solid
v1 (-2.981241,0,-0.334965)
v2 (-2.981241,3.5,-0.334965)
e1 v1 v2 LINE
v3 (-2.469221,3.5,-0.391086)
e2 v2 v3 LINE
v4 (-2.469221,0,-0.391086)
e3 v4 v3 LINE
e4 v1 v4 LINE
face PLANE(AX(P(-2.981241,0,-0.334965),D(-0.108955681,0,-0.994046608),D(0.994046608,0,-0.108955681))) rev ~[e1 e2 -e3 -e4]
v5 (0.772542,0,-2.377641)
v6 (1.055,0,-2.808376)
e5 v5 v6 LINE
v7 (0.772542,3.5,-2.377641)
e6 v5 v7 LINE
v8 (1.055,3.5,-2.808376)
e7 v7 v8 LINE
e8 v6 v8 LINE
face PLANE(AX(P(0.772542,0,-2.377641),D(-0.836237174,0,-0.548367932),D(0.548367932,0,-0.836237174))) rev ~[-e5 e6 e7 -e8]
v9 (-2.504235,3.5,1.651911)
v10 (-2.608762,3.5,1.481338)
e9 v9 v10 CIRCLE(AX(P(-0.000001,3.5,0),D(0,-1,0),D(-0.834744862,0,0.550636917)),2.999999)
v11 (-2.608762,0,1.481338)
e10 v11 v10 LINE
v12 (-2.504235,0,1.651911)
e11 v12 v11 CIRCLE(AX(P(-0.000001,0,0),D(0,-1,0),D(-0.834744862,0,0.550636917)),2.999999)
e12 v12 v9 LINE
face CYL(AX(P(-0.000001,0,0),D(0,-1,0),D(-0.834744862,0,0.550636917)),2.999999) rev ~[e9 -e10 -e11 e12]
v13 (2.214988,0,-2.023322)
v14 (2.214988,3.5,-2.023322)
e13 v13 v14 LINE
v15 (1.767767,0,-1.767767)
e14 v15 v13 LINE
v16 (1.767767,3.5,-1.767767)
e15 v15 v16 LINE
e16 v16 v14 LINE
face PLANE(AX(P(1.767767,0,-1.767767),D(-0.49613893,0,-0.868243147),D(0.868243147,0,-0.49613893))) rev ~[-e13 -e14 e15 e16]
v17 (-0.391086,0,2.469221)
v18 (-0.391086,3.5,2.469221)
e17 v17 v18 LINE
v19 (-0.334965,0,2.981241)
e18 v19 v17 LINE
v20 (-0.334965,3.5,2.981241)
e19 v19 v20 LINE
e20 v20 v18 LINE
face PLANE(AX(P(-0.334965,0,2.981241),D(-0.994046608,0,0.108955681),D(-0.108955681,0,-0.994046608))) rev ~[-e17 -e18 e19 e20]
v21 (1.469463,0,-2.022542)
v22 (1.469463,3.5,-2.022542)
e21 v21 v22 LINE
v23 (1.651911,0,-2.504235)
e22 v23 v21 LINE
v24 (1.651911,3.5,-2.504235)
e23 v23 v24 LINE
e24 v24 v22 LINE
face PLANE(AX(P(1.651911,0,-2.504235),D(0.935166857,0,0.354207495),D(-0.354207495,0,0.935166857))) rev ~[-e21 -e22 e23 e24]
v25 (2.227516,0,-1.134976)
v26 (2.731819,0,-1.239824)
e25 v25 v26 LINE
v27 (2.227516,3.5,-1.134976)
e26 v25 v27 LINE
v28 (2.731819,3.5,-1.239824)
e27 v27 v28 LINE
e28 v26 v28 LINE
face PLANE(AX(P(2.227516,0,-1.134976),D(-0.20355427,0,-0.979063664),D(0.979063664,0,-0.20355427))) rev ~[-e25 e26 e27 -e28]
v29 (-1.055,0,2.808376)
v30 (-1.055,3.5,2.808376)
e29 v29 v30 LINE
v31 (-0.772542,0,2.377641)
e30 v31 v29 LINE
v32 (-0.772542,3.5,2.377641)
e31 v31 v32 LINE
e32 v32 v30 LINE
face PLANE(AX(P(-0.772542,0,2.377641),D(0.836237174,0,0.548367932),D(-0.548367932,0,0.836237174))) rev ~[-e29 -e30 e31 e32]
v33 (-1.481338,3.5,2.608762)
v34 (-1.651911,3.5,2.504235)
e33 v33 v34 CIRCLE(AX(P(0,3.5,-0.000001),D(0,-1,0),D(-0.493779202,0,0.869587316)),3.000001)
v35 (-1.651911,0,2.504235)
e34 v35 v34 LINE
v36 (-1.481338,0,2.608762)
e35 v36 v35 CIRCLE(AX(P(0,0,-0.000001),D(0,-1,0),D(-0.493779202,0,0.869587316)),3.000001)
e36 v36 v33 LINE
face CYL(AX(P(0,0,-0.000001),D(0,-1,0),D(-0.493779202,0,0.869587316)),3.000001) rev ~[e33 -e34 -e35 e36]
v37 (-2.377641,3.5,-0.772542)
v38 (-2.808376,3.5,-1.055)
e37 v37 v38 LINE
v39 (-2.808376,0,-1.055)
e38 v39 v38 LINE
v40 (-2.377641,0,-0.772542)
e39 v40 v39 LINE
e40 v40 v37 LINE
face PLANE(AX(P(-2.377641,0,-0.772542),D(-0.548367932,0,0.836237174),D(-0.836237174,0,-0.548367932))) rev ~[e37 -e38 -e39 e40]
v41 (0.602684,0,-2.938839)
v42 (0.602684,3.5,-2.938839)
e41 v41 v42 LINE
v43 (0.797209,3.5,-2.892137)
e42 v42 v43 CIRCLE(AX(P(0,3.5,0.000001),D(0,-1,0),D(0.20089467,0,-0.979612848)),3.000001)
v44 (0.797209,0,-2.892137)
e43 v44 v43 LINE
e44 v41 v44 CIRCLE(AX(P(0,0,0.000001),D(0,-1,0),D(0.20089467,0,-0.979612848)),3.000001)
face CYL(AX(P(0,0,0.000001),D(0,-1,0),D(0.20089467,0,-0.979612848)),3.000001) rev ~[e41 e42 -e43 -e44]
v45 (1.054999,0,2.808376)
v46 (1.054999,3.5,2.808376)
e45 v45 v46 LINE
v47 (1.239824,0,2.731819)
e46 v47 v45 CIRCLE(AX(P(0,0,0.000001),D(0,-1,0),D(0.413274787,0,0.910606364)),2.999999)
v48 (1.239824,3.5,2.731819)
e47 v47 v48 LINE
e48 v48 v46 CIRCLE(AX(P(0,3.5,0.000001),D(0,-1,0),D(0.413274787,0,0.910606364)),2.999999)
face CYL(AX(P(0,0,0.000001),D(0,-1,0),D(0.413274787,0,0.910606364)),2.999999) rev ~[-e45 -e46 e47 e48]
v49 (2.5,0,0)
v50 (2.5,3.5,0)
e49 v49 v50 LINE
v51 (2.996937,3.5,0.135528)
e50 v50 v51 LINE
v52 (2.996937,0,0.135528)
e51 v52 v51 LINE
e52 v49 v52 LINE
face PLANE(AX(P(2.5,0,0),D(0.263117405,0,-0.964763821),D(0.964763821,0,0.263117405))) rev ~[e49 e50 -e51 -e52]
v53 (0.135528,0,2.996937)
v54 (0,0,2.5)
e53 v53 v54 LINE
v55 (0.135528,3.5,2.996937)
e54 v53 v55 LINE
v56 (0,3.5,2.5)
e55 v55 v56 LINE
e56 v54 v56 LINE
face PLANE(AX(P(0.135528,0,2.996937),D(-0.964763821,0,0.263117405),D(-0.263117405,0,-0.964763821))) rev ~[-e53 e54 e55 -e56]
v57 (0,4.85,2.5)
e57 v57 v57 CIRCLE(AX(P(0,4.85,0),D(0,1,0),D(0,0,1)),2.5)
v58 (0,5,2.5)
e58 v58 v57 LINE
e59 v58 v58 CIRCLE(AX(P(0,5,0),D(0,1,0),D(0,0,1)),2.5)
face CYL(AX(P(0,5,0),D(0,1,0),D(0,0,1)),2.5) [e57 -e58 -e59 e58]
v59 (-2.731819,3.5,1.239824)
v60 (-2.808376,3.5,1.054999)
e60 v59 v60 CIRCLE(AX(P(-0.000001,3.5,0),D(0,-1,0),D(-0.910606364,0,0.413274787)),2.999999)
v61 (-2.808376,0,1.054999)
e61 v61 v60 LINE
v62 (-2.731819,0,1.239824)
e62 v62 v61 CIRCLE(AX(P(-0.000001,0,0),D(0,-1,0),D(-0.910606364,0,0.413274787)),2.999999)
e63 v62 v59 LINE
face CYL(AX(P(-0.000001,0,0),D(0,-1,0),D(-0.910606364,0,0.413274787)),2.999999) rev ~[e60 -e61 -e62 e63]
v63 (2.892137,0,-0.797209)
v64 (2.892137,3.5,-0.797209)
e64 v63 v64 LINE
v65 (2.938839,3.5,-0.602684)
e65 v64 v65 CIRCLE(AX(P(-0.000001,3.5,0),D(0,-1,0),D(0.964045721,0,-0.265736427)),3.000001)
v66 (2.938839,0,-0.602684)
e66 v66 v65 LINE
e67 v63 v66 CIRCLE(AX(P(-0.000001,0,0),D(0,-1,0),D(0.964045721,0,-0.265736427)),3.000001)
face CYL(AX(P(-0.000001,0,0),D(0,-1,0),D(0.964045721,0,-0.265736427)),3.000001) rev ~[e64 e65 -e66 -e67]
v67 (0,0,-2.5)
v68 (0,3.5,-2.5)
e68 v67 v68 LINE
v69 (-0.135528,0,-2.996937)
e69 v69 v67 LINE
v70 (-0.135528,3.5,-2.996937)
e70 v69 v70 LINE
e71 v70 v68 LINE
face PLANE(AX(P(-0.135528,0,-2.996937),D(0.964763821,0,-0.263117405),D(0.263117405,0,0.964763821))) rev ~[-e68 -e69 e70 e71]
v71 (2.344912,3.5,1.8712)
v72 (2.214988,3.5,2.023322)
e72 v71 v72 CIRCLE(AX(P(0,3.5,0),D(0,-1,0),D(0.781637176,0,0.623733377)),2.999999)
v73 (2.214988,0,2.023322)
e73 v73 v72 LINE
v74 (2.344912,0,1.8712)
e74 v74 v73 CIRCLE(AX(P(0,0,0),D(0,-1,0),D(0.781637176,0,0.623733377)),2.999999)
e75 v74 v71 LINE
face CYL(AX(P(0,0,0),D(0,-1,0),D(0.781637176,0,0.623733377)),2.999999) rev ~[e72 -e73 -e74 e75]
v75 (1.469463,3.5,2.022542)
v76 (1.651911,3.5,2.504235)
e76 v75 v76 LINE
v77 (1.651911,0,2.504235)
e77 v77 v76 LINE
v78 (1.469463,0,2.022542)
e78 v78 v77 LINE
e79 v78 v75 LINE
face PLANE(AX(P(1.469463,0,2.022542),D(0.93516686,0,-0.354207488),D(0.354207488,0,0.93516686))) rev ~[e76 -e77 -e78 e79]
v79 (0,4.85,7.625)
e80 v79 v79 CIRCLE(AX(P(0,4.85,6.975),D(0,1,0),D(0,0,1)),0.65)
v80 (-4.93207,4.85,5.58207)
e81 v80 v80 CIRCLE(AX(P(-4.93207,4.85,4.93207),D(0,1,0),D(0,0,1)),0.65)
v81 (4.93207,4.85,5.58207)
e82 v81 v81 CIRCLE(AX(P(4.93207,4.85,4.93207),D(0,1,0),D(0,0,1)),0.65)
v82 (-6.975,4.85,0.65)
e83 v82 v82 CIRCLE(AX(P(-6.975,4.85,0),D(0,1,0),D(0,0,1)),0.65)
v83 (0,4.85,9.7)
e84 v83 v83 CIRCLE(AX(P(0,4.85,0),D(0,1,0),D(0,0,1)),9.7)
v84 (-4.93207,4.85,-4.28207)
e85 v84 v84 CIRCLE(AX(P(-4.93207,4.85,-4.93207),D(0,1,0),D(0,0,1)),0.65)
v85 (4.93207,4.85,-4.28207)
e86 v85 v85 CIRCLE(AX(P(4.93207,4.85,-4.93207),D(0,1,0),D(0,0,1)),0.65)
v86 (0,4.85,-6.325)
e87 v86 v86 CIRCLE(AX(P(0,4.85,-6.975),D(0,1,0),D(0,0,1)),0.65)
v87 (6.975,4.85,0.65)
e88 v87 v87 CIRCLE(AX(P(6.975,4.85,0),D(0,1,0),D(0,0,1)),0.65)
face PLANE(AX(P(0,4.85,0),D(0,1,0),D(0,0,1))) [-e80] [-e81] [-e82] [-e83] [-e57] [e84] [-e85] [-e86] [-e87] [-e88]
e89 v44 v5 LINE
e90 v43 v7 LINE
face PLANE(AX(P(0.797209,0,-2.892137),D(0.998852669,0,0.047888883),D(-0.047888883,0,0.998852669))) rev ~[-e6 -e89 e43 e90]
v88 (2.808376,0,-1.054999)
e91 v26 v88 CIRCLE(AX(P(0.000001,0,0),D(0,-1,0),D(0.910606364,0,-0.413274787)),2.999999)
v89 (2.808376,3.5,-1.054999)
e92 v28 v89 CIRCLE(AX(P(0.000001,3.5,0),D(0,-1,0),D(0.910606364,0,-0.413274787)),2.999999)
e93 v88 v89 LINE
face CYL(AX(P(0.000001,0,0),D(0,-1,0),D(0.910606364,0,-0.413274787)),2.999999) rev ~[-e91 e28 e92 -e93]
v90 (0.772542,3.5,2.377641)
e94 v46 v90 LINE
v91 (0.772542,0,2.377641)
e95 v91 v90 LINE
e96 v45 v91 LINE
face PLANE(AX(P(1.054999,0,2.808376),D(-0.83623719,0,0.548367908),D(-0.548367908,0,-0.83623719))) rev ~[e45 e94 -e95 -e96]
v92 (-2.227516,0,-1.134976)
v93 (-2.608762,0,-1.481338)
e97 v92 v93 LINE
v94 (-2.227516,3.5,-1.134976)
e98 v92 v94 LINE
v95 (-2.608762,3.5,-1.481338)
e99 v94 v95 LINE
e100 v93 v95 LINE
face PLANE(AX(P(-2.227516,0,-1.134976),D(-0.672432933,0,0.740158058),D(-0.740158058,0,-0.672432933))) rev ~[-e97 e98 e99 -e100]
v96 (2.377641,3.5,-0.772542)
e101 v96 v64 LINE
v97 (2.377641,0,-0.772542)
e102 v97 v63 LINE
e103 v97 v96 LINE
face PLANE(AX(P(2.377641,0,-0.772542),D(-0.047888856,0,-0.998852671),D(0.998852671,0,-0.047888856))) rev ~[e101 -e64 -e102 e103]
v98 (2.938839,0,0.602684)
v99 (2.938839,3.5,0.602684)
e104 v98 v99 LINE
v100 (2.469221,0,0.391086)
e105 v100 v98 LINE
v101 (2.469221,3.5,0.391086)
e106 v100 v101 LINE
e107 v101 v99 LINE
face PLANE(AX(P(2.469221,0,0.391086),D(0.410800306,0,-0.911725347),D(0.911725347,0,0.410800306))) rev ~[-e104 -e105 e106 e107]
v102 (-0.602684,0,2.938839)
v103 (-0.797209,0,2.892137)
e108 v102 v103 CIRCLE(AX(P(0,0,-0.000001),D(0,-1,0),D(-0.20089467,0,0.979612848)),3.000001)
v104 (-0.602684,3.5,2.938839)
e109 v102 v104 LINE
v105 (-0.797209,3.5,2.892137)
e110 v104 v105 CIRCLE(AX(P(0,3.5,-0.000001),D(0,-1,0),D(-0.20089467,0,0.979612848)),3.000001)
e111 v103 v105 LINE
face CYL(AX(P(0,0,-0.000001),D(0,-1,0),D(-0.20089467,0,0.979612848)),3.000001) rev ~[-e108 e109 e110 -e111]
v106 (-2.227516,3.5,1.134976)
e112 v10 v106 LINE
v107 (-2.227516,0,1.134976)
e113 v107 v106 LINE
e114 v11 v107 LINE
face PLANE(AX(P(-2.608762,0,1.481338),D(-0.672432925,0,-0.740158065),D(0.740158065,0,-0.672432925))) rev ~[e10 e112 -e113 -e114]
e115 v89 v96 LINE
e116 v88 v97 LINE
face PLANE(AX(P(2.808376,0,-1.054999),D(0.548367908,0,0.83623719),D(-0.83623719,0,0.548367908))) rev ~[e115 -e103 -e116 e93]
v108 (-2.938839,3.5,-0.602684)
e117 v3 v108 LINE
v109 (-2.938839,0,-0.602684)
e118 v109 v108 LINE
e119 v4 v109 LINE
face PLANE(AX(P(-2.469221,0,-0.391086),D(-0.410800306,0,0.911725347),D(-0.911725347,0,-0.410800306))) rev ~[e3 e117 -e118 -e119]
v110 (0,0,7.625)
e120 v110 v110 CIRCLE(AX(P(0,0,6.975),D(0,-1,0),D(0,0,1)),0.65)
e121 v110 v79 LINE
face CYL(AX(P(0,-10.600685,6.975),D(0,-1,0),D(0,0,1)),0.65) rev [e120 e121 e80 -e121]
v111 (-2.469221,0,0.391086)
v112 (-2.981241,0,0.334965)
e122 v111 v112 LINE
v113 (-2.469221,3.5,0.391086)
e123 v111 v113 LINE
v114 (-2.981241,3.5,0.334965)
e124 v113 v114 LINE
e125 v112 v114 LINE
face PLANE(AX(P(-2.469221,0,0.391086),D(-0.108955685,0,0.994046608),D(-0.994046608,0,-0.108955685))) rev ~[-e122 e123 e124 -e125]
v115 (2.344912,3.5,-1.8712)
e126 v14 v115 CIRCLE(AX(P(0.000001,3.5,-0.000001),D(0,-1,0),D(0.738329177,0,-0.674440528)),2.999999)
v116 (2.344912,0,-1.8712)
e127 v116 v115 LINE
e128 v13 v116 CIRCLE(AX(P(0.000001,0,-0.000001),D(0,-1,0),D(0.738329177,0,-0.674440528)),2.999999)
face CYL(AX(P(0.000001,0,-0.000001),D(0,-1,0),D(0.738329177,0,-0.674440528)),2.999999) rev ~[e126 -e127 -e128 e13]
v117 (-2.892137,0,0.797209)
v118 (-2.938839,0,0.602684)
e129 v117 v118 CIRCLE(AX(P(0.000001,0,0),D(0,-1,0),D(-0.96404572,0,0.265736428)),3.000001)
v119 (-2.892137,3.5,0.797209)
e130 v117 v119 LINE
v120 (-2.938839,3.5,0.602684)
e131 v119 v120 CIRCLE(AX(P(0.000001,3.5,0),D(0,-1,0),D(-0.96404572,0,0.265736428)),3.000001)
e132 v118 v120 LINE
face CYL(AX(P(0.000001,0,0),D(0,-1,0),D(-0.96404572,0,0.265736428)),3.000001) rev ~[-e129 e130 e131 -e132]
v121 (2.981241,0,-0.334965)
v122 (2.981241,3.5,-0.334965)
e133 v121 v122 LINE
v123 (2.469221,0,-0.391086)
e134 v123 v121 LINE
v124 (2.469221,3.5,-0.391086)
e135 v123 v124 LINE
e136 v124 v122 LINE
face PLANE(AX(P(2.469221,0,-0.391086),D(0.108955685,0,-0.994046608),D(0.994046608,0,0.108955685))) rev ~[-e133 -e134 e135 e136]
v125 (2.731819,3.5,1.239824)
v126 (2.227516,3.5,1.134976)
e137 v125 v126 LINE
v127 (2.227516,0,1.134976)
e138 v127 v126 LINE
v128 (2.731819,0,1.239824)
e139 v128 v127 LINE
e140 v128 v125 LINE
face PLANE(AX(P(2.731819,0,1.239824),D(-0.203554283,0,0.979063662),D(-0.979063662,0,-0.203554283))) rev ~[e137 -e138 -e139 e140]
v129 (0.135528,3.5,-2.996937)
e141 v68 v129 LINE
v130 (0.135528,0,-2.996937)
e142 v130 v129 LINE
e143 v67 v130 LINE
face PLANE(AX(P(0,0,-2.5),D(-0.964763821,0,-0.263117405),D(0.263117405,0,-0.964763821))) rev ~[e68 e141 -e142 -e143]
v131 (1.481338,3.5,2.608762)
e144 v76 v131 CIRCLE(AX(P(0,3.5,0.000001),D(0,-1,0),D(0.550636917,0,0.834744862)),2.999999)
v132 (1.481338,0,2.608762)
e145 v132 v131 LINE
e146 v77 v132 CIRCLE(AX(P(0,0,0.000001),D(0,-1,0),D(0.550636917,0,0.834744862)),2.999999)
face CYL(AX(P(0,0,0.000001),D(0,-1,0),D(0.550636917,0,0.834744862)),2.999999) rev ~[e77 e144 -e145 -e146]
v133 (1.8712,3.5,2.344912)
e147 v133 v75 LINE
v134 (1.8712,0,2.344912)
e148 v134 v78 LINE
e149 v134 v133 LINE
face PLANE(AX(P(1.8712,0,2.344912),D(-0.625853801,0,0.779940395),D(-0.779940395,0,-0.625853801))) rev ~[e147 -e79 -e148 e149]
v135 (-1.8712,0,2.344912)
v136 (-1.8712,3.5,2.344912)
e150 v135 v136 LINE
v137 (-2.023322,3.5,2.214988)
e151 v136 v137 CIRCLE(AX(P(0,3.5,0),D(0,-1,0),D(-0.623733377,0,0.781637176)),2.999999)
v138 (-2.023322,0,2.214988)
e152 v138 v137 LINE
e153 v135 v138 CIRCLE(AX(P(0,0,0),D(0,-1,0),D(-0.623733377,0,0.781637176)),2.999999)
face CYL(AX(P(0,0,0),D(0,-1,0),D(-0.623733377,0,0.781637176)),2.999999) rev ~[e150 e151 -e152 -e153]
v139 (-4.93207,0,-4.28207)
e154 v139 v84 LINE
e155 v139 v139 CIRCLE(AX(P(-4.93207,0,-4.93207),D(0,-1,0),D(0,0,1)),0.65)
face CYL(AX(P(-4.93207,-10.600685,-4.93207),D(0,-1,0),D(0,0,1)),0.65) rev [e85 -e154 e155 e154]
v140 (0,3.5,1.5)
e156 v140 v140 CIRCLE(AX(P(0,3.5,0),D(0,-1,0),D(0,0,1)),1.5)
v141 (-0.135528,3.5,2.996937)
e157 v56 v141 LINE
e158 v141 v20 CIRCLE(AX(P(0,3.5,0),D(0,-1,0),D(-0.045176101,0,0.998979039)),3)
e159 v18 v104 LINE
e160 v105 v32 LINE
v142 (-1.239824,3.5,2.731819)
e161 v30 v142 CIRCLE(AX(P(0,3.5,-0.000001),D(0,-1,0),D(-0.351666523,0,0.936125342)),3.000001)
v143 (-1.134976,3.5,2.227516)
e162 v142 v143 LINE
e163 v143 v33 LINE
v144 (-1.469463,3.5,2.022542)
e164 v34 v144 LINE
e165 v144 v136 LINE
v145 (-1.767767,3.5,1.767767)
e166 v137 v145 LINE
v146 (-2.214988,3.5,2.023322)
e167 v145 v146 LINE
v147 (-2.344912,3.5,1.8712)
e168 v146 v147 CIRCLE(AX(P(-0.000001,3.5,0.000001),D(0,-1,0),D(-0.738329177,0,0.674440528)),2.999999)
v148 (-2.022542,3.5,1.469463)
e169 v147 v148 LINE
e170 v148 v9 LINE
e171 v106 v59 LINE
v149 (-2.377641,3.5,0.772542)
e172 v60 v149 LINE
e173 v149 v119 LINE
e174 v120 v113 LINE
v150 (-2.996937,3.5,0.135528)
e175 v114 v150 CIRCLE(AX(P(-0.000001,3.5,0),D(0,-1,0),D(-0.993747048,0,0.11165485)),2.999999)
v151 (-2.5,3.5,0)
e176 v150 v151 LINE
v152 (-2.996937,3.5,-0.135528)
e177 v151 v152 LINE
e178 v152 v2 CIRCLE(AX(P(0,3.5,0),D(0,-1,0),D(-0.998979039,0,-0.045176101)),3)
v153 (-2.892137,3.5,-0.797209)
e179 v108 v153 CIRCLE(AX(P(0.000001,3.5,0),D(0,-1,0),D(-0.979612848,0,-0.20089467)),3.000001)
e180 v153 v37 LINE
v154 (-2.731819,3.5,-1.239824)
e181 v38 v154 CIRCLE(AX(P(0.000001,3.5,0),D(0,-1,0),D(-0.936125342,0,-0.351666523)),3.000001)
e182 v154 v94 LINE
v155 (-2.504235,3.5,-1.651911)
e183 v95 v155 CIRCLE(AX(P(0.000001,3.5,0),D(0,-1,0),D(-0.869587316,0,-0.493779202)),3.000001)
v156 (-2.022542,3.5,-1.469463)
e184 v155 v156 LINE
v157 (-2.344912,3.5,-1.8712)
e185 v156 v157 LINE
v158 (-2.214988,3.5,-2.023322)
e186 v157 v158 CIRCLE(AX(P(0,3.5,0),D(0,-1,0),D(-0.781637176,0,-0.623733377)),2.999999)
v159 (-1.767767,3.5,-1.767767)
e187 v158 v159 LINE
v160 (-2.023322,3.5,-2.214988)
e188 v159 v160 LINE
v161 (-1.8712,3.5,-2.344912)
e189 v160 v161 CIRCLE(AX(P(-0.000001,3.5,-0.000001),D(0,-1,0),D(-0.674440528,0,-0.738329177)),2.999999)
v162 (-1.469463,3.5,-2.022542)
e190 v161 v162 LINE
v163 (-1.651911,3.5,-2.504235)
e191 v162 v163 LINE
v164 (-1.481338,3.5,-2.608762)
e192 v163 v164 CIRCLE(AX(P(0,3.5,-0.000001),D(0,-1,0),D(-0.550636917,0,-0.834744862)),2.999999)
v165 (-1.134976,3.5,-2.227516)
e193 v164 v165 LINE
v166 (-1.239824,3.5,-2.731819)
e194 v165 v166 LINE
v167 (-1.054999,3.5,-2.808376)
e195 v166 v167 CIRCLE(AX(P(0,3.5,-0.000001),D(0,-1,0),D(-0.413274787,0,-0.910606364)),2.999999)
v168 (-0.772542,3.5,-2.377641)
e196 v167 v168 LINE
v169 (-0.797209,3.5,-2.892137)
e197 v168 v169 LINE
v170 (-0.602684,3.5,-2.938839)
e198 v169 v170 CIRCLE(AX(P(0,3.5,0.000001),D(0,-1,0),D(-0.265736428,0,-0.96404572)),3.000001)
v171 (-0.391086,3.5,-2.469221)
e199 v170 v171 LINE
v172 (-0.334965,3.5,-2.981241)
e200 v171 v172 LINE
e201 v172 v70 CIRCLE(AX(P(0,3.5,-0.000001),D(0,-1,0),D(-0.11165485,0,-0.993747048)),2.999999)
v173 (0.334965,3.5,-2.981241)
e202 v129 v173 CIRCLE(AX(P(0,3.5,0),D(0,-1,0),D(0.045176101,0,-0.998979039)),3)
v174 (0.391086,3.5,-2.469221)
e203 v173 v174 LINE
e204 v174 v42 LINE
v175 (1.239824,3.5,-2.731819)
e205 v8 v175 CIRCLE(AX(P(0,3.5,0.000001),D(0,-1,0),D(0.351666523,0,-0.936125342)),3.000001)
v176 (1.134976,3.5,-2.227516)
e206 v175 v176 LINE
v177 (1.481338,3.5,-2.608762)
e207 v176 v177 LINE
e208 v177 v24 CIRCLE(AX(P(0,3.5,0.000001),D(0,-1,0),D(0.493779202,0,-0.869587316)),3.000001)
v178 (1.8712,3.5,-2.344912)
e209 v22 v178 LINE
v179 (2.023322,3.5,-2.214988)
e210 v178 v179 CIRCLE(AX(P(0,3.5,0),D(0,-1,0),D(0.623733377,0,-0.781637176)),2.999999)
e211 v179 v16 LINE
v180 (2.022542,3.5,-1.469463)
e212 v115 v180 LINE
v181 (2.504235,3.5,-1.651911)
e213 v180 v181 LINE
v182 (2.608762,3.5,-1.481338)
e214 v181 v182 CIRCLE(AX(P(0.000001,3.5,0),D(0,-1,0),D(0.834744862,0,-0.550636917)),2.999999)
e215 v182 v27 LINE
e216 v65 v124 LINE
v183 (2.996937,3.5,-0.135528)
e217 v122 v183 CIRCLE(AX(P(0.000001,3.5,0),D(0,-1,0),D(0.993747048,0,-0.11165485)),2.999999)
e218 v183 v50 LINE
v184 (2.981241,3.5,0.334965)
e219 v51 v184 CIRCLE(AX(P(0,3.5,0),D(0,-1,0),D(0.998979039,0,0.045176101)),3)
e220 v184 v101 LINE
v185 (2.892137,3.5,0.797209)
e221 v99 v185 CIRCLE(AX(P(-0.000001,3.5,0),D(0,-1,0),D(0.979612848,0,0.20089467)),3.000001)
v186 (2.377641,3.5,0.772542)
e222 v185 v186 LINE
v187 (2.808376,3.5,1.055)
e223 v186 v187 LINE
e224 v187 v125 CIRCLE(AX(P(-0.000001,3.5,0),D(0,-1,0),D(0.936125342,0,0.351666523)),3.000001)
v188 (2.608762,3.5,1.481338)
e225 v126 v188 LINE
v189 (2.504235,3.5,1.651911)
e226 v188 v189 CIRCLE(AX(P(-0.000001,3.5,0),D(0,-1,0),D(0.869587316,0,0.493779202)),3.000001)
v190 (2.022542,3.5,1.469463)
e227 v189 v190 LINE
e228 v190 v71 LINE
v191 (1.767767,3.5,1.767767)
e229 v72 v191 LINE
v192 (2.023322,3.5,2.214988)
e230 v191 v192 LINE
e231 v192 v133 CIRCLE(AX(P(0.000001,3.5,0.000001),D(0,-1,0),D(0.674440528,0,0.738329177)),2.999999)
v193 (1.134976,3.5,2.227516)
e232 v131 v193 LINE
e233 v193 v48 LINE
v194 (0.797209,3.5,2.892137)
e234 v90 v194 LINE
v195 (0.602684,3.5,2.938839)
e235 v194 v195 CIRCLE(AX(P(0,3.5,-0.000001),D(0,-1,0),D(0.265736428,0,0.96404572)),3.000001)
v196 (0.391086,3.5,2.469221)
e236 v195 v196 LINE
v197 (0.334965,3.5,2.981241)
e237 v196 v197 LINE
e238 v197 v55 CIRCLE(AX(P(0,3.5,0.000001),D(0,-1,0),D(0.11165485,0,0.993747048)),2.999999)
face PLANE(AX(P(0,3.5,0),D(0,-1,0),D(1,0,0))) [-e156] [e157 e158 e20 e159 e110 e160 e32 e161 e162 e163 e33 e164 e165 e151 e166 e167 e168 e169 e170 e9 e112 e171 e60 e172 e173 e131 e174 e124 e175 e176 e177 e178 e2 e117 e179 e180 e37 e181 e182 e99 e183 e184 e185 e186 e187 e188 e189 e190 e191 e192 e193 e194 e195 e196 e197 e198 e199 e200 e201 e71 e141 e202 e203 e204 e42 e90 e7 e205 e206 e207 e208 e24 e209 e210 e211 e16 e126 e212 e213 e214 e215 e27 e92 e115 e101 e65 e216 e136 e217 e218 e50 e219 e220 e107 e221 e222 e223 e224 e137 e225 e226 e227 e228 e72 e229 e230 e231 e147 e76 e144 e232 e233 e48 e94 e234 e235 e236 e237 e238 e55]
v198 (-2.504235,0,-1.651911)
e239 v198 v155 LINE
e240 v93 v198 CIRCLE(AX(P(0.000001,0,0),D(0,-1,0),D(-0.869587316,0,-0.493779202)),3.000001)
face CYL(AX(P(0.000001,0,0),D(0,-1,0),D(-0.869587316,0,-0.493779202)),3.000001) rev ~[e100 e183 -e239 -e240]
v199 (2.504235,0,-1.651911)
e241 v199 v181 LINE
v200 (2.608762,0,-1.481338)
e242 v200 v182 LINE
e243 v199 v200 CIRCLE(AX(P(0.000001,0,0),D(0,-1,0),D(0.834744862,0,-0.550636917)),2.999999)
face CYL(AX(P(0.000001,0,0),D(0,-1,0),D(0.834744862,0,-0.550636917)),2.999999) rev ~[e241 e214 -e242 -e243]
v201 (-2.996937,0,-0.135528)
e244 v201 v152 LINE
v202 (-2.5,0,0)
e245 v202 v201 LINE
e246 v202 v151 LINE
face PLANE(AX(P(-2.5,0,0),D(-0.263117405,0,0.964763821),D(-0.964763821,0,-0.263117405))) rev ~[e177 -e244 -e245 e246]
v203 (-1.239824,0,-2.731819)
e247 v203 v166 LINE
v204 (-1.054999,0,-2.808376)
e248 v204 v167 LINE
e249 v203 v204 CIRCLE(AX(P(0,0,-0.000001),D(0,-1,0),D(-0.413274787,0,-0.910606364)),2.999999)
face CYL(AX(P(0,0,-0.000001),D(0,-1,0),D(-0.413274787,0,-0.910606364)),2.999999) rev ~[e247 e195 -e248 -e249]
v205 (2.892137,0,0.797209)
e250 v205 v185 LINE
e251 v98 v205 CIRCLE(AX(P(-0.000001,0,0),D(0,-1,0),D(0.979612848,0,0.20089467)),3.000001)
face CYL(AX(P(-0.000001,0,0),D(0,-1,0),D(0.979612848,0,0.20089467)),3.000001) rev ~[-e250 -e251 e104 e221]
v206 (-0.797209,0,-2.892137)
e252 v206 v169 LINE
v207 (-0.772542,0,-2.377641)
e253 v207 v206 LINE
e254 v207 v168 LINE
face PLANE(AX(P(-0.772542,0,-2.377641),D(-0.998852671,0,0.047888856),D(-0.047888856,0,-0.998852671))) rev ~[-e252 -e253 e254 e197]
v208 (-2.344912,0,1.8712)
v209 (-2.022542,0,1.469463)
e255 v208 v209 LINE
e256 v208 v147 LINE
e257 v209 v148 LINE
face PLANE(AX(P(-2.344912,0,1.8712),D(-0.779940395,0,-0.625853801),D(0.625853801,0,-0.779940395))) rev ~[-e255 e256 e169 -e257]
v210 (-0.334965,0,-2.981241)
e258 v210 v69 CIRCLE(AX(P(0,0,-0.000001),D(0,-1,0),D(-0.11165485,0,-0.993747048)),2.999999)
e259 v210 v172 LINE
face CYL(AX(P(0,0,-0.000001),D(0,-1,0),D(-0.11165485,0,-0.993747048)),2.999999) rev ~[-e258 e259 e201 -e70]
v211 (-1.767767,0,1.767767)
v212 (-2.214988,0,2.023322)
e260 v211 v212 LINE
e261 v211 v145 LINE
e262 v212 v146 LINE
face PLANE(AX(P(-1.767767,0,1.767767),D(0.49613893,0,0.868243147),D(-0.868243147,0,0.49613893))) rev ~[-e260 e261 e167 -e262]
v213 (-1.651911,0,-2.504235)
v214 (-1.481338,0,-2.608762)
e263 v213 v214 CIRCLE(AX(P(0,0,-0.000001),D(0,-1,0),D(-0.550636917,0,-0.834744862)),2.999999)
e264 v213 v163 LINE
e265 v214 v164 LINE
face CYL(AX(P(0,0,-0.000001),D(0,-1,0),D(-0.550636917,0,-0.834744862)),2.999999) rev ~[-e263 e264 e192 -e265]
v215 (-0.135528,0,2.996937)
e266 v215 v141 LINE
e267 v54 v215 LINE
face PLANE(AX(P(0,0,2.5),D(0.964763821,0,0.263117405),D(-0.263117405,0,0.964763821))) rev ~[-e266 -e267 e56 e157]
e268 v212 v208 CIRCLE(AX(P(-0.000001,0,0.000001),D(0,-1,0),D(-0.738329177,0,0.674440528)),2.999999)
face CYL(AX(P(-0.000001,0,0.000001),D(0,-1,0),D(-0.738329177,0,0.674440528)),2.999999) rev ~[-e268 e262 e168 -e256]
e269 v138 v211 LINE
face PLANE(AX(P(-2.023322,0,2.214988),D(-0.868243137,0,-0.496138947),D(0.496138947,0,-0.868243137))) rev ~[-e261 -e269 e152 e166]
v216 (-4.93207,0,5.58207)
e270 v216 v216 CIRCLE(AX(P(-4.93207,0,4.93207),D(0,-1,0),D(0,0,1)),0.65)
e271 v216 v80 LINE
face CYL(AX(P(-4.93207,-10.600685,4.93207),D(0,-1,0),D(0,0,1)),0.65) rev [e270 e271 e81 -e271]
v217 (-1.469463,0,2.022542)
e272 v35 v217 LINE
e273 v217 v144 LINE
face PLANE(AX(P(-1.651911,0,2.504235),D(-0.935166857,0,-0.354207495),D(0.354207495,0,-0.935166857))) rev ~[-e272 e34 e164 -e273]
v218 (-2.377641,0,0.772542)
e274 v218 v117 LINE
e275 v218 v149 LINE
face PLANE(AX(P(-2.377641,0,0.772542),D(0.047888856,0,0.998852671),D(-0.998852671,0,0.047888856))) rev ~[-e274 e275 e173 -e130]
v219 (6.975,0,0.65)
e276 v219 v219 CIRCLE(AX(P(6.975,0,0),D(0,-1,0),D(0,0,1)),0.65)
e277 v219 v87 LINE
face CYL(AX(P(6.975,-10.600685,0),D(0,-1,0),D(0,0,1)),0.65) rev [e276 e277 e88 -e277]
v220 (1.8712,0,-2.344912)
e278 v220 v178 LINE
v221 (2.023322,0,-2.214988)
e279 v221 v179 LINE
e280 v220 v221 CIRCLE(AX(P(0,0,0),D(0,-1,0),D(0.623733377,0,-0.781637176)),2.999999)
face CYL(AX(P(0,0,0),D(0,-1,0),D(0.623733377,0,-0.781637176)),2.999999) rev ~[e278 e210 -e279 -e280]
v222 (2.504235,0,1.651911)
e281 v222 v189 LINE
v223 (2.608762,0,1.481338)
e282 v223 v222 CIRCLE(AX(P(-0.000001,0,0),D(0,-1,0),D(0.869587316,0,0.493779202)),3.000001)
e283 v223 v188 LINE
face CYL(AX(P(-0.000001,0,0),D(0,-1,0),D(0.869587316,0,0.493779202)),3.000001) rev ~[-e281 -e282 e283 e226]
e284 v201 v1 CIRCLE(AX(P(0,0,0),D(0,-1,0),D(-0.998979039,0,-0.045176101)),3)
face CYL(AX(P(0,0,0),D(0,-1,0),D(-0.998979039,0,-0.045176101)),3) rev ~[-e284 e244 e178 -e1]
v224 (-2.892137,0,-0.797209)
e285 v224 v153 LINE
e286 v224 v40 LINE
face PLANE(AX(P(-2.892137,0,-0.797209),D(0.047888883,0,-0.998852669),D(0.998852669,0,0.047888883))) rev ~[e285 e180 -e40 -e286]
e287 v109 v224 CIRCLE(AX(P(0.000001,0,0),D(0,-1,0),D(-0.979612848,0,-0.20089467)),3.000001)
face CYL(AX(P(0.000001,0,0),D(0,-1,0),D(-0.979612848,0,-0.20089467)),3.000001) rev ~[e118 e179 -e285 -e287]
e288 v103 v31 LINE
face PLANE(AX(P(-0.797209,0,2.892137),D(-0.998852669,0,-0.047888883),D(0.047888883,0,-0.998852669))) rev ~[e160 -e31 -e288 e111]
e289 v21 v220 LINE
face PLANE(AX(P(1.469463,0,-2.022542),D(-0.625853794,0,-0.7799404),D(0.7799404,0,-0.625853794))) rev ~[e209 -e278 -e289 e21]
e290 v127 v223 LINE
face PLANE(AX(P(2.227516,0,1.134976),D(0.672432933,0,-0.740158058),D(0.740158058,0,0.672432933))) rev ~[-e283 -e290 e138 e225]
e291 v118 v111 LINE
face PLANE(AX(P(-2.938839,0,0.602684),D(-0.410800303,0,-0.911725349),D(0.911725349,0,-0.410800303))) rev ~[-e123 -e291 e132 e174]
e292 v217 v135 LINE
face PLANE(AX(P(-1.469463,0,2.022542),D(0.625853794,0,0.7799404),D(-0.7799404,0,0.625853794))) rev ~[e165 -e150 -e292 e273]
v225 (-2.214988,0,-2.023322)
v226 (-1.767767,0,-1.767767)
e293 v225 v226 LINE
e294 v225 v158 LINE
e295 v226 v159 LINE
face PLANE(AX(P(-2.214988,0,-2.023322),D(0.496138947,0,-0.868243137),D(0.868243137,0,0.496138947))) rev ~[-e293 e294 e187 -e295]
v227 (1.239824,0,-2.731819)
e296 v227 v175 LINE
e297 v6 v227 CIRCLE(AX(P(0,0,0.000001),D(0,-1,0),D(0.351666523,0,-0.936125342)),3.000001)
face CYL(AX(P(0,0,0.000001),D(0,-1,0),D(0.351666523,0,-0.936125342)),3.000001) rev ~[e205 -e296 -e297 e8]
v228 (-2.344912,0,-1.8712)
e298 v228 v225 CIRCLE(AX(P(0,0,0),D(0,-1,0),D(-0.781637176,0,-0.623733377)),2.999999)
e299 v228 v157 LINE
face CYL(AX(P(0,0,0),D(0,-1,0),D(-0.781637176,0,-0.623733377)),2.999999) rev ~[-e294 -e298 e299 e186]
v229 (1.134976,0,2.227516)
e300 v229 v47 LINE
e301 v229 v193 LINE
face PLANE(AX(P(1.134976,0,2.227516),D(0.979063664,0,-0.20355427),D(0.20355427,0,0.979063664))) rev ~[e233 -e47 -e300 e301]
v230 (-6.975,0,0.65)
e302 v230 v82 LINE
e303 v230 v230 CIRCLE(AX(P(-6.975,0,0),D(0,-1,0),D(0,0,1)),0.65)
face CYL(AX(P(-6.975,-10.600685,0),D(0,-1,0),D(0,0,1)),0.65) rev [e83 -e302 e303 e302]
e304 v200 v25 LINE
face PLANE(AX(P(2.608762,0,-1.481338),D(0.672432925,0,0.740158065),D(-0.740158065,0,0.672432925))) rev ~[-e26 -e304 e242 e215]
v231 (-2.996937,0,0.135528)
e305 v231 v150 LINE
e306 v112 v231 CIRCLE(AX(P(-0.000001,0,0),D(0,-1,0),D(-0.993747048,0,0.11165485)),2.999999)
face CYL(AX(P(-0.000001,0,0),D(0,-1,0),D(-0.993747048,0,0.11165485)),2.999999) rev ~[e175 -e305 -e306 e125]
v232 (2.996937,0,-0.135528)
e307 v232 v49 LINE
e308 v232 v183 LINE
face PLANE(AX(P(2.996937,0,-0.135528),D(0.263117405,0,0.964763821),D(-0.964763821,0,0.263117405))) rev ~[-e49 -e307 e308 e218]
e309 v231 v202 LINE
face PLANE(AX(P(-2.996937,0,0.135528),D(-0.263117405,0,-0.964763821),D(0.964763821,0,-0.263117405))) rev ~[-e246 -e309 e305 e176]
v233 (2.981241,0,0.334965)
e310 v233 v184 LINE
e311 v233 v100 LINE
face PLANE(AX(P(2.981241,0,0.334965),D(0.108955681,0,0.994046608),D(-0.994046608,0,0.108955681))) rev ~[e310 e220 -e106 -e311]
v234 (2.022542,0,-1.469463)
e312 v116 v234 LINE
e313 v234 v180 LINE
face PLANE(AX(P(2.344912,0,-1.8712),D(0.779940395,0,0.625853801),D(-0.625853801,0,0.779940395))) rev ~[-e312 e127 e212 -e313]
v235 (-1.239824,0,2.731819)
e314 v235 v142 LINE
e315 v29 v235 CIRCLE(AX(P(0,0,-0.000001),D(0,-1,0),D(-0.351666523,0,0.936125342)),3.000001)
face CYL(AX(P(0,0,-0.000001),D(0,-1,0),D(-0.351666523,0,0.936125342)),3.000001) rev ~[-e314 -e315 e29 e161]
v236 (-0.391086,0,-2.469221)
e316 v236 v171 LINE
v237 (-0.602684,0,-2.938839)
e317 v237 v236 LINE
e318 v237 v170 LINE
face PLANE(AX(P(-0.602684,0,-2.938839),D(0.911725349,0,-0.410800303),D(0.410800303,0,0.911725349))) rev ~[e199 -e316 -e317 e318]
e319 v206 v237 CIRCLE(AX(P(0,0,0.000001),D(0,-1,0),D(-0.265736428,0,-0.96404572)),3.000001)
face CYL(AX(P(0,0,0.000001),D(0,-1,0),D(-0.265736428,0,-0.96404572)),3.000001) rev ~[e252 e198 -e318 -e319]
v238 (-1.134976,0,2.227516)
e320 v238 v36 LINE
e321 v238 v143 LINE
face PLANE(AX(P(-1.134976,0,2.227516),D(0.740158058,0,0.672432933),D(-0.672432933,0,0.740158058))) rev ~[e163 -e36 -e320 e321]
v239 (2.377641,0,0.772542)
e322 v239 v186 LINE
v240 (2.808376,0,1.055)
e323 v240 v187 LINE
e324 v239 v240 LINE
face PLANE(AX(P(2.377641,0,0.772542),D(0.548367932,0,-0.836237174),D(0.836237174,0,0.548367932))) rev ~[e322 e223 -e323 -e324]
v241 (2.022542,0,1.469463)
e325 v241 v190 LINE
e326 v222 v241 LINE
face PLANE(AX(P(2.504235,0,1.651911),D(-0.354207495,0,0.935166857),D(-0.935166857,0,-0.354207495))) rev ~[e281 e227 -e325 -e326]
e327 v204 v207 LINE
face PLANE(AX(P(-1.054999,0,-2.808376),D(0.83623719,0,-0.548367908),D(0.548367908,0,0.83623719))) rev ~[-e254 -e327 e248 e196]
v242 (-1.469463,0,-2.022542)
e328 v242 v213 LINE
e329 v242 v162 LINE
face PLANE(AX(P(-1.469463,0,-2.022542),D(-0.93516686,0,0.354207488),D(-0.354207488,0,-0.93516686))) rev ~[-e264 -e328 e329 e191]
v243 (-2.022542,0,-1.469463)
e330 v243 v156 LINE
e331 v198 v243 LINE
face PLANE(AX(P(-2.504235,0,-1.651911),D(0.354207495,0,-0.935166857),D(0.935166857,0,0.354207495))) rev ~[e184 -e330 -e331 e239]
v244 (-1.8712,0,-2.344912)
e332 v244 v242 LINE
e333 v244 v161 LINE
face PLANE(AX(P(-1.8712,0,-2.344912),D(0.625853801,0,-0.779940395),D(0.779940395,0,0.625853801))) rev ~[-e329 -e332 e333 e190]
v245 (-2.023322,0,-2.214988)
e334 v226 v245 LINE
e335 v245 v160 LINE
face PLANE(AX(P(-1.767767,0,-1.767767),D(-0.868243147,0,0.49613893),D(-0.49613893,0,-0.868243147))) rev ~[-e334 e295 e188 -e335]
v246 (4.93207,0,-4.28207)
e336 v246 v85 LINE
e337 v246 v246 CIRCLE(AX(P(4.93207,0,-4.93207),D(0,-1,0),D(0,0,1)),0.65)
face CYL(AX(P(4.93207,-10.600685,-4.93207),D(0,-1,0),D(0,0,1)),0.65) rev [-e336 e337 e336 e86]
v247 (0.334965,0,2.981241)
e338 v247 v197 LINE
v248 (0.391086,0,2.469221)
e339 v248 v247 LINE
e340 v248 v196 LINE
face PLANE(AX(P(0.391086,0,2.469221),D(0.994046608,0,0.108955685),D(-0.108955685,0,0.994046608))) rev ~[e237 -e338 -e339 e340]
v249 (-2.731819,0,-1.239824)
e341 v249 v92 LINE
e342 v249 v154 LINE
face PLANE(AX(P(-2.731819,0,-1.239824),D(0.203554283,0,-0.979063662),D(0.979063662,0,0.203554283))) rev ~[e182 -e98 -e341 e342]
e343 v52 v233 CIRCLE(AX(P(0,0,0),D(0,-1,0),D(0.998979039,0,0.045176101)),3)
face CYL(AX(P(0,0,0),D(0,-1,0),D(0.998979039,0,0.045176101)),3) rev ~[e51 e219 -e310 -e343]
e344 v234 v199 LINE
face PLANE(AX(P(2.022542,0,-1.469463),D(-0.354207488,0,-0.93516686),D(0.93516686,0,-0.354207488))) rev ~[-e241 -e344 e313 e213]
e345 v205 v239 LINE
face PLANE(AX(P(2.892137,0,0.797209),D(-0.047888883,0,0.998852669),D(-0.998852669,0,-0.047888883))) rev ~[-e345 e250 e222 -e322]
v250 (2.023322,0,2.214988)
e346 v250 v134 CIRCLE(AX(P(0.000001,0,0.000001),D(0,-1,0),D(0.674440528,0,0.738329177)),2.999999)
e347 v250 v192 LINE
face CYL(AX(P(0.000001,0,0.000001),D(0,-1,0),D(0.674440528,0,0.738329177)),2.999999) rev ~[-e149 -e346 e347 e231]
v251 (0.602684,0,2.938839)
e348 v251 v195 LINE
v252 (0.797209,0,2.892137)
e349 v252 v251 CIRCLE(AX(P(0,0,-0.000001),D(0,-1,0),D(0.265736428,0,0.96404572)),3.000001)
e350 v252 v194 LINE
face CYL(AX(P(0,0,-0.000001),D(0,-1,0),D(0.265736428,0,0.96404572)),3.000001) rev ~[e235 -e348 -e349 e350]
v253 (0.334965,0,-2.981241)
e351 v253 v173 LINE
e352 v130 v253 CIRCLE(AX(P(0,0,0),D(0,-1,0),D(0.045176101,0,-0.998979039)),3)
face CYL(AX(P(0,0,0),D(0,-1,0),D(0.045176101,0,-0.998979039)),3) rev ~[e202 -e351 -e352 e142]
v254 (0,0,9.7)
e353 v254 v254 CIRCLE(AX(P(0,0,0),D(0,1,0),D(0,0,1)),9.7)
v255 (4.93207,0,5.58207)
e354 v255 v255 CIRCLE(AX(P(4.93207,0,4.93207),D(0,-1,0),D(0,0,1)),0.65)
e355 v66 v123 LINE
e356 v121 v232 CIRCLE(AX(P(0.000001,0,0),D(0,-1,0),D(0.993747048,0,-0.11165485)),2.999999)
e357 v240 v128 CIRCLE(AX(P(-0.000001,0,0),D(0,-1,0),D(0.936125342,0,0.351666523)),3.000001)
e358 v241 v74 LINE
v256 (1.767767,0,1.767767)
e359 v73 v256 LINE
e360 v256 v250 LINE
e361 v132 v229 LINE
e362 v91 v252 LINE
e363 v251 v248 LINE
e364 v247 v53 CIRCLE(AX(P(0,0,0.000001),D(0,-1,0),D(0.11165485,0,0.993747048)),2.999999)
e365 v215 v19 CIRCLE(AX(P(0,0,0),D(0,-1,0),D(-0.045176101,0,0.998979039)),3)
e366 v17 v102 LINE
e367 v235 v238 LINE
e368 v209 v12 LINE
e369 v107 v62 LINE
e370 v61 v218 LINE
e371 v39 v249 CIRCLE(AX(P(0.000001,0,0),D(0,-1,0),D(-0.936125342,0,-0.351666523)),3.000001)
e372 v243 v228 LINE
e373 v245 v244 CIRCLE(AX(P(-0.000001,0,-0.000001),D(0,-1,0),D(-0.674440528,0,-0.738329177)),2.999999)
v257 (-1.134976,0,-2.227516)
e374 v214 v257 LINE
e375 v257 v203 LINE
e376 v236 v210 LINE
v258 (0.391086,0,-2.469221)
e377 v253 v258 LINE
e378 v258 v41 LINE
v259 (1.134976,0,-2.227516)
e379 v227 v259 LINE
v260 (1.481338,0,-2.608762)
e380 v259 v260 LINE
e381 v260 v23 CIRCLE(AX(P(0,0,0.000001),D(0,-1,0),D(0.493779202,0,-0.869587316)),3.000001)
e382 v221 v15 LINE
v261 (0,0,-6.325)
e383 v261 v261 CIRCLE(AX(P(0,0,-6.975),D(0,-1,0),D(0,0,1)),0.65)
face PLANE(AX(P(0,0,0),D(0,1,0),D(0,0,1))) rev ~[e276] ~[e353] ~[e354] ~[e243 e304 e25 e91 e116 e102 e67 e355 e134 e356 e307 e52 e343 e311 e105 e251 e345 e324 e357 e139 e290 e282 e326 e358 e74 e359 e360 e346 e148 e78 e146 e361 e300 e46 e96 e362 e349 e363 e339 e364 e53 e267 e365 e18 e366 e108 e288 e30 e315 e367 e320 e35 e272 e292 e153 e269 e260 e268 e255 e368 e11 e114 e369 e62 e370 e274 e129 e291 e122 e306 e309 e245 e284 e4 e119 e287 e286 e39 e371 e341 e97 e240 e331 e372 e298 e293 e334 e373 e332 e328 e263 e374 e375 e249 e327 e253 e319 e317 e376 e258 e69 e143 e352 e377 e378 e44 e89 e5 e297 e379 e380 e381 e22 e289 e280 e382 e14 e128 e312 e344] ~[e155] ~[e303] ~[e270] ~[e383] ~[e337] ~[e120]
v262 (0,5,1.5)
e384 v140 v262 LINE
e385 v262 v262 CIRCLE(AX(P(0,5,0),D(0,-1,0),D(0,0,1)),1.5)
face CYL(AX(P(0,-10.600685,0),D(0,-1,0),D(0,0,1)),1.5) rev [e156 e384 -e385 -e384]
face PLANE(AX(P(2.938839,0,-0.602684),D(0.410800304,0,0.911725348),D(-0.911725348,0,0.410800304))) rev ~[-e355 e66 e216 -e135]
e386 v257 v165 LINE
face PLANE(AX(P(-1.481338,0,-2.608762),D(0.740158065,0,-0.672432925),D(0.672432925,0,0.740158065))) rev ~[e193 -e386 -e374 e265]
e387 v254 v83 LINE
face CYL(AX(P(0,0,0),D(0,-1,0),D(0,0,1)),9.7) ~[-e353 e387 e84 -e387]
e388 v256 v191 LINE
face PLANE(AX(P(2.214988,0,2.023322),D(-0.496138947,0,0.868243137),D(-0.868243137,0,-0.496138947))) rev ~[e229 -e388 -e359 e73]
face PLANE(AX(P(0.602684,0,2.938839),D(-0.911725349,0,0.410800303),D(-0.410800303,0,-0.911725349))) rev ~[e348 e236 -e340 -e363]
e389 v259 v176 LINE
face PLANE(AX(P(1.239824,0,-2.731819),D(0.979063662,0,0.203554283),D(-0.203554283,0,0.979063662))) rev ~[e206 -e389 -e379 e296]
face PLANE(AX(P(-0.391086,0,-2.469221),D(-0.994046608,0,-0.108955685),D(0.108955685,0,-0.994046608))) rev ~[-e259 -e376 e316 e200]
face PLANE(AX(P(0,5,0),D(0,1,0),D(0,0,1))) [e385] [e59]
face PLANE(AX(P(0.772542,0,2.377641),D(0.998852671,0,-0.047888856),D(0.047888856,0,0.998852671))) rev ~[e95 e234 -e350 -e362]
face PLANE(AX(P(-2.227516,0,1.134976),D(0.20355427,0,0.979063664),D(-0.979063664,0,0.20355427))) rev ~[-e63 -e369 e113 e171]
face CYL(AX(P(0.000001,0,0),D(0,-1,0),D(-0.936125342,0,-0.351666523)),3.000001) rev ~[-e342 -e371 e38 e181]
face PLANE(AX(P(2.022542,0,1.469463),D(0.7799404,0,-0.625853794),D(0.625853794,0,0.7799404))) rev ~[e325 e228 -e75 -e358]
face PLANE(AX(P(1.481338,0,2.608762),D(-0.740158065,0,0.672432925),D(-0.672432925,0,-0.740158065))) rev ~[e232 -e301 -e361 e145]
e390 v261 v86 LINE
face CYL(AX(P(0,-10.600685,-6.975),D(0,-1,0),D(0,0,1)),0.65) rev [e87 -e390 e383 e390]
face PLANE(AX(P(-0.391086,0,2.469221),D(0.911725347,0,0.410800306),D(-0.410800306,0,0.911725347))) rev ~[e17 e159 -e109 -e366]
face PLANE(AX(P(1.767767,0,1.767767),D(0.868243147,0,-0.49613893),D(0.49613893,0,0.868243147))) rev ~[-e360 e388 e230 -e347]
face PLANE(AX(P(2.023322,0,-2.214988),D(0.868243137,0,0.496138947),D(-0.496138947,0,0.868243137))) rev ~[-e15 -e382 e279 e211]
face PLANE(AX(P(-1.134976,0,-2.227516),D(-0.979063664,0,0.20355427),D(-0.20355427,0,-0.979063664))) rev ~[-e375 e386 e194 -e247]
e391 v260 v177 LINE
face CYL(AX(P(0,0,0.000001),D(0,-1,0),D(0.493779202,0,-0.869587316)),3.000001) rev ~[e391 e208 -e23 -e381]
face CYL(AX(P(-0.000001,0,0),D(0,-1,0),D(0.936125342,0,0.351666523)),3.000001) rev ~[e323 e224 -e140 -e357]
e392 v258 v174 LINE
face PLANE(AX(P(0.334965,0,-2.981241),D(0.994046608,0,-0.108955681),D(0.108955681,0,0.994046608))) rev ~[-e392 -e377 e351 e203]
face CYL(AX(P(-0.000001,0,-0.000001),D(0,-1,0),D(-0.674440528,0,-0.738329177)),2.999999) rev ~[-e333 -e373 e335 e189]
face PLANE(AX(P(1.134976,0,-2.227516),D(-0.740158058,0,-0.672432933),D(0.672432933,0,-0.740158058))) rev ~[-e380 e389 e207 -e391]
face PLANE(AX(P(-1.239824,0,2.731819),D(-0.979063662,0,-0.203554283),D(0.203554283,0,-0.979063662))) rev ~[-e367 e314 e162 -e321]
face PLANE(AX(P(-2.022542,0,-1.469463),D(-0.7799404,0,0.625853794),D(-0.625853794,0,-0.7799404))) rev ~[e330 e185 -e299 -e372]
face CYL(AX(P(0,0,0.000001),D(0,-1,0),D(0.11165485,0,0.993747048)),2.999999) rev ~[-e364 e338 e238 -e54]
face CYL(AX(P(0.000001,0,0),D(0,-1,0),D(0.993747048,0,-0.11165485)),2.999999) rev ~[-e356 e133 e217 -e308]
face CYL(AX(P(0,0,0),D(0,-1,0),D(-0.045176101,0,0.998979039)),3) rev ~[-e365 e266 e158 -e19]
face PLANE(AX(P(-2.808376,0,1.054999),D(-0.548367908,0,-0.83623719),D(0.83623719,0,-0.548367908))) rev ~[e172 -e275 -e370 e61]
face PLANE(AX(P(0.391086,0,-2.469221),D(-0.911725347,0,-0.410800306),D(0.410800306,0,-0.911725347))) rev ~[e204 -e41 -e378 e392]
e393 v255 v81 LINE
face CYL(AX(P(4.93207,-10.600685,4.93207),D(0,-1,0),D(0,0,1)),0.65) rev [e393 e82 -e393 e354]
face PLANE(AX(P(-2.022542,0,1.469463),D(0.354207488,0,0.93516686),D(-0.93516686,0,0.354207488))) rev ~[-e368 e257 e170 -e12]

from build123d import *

# Parameters (mm, degrees)
SKETCH1_R               = 9.7
BOSS_EXTRUDE1_DEPTH     = 5
CUT_EXTRUDE1_DEPTH      = 15.600684915
CUT_EXTRUDE1_DEPTH_BACK = 15.600684915
SKETCH2_R               = 0.65
CUT_EXTRUDE2_DEPTH      = 15.600684915
CUT_EXTRUDE2_DEPTH_BACK = 15.600684915
SKETCH3_R               = 1.5
SKETCH4_R               = 9.7
SKETCH4_R_2             = 2.5
SKETCH4_R_3             = 0.65
CUT_EXTRUDE3_DEPTH      = 0.15
CUT_EXTRUDE4_DEPTH      = 3.5


with BuildPart() as part:
    # Sketch1 → Boss-Extrude1 (new body)
    with BuildSketch(Plane(origin=(0, 0, 0), x_dir=(1, 0, 0), z_dir=(0, 1, 0))):
        with Locations(Location((0, 0, 0), (0, 0, 270))):
            Circle(SKETCH1_R)
    extrude(amount=BOSS_EXTRUDE1_DEPTH)

    # Sketch2 → Cut-Extrude1 (cut, two sides: drawn at the far end of the back side and taken through both)
    with BuildSketch(Plane(origin=(0, 5, 0), x_dir=(1, 0, 0), z_dir=(0, 1, 0)).offset(-CUT_EXTRUDE1_DEPTH_BACK)):
        with Locations(Location((-6.975, 0, 0), (0, 0, 270))):
            Circle(SKETCH2_R)
        with Locations(Location((-4.932069799, 4.932069799, 0), (0, 0, 270))):
            Circle(SKETCH2_R)
        with Locations(Location((0, 6.975, 0), (0, 0, 270))):
            Circle(SKETCH2_R)
        with Locations(Location((4.932069799, 4.932069799, 0), (0, 0, 270))):
            Circle(SKETCH2_R)
        with Locations(Location((6.975, 0, 0), (0, 0, 270))):
            Circle(SKETCH2_R)
        with Locations(Location((4.932069799, -4.932069799, 0), (0, 0, 270))):
            Circle(SKETCH2_R)
        with Locations(Location((0, -6.975, 0), (0, 0, 270))):
            Circle(SKETCH2_R)
        with Locations(Location((-4.932069799, -4.932069799, 0), (0, 0, 270))):
            Circle(SKETCH2_R)
    extrude(amount=CUT_EXTRUDE1_DEPTH + CUT_EXTRUDE1_DEPTH_BACK, mode=Mode.SUBTRACT)

    # Sketch3 → Cut-Extrude2 (cut, two sides: drawn at the far end of the back side and taken through both)
    with BuildSketch(Plane(origin=(0, 5, 0), x_dir=(1, 0, 0), z_dir=(0, 1, 0)).offset(-CUT_EXTRUDE2_DEPTH_BACK)):
        with Locations(Location((0, 0, 0), (0, 0, 270))):
            Circle(SKETCH3_R)
    extrude(amount=CUT_EXTRUDE2_DEPTH + CUT_EXTRUDE2_DEPTH_BACK, mode=Mode.SUBTRACT)

    # Sketch4 → Cut-Extrude3 (cut)
    with BuildSketch(Plane(origin=(0, 5, 0), x_dir=(1, 0, 0), z_dir=(0, 1, 0))):
        with Locations(Location((0, 0, 0), (0, 0, 270))):
            Circle(SKETCH4_R)
        with Locations(Location((0, 0, 0), (0, 0, 270))):
            Circle(SKETCH4_R_2, mode=Mode.SUBTRACT)
        with Locations(Location((-6.975, 0, 0), (0, 0, 270))):
            Circle(SKETCH4_R_3, mode=Mode.SUBTRACT)
        with Locations(Location((0, 6.975, 0), (0, 0, 270))):
            Circle(SKETCH4_R_3, mode=Mode.SUBTRACT)
        with Locations(Location((6.975, 0, 0), (0, 0, 270))):
            Circle(SKETCH4_R_3, mode=Mode.SUBTRACT)
        with Locations(Location((0, -6.975, 0), (0, 0, 270))):
            Circle(SKETCH4_R_3, mode=Mode.SUBTRACT)
        with Locations(Location((-4.932069799, -4.932069799, 0), (0, 0, 270))):
            Circle(SKETCH4_R_3, mode=Mode.SUBTRACT)
        with Locations(Location((4.932069799, -4.932069799, 0), (0, 0, 270))):
            Circle(SKETCH4_R_3, mode=Mode.SUBTRACT)
        with Locations(Location((4.932069799, 4.932069799, 0), (0, 0, 270))):
            Circle(SKETCH4_R_3, mode=Mode.SUBTRACT)
        with Locations(Location((-4.932069799, 4.932069799, 0), (0, 0, 270))):
            Circle(SKETCH4_R_3, mode=Mode.SUBTRACT)
    extrude(amount=-CUT_EXTRUDE3_DEPTH, mode=Mode.SUBTRACT)

    # Sketch5 → Cut-Extrude4 (cut)
    with BuildSketch(Plane.XZ):
        with BuildLine():
            Line((-0.602683972, -2.938838551), (-0.391086156, -2.469220853))
            Line((-0.391086156, -2.469220853), (-0.33496452, -2.981241146))
            ThreePointArc((-0.33496452, -2.981241146), (-0.235377283, -2.990752002), (-0.135528304, -2.996937116))
            Line((-0.135528304, -2.996937116), (0, -2.5))
            Line((0, -2.5), (0.135528304, -2.996937116))
            ThreePointArc((0.135528304, -2.996937116), (0.235377287, -2.990752001), (0.334964528, -2.981241145))
            Line((0.334964528, -2.981241145), (0.391086162, -2.469220852))
            Line((0.391086162, -2.469220852), (0.60268398, -2.93883855))
            ThreePointArc((0.60268398, -2.93883855), (0.700336079, -2.917109764), (0.797209399, -2.892137129))
            Line((0.797209399, -2.892137129), (0.772542467, -2.377641297))
            Line((0.772542467, -2.377641297), (1.054999554, -2.808376033))
            ThreePointArc((1.054999554, -2.808376033), (1.148050284, -2.771638603), (1.239824372, -2.731819088))
            Line((1.239824372, -2.731819088), (1.134976246, -2.227516312))
            Line((1.134976246, -2.227516312), (1.481337579, -2.608761963))
            ThreePointArc((1.481337579, -2.608761963), (1.567495694, -2.557920493), (1.651910742, -2.504234594))
            Line((1.651910742, -2.504234594), (1.469463134, -2.022542483))
            Line((1.469463134, -2.022542483), (1.871200145, -2.344911516))
            ThreePointArc((1.871200145, -2.344911516), (1.948344157, -2.281217887), (2.023321594, -2.214987523))
            Line((2.023321594, -2.214987523), (1.767766968, -1.767766938))
            Line((1.767766968, -1.767766938), (2.214987558, -2.023321555))
            ThreePointArc((2.214987558, -2.023321555), (2.28121791, -1.94834413), (2.344911528, -1.87120013))
            Line((2.344911528, -1.87120013), (2.022542492, -1.469463122))
            Line((2.022542492, -1.469463122), (2.504234604, -1.651910726))
            ThreePointArc((2.504234604, -1.651910726), (2.557920507, -1.567495672), (2.60876198, -1.481337548))
            Line((2.60876198, -1.481337548), (2.227516326, -1.13497622))
            Line((2.227516326, -1.13497622), (2.731819102, -1.239824339))
            ThreePointArc((2.731819102, -1.239824339), (2.771638627, -1.148050226), (2.808376064, -1.05499947))
            Line((2.808376064, -1.05499947), (2.37764132, -0.772542395))
            Line((2.37764132, -0.772542395), (2.892137153, -0.797209313))
            ThreePointArc((2.892137153, -0.797209313), (2.917109775, -0.700336032), (2.938838551, -0.602683973))
            Line((2.938838551, -0.602683973), (2.469220853, -0.391086156))
            Line((2.469220853, -0.391086156), (2.981241146, -0.33496452))
            ThreePointArc((2.981241146, -0.33496452), (2.990752002, -0.235377283), (2.996937116, -0.135528304))
            Line((2.996937116, -0.135528304), (2.5, 0))
            Line((2.5, 0), (2.996937116, 0.135528304))
            ThreePointArc((2.996937116, 0.135528304), (2.990752001, 0.235377287), (2.981241145, 0.334964528))
            Line((2.981241145, 0.334964528), (2.469220852, 0.391086162))
            Line((2.469220852, 0.391086162), (2.93883855, 0.60268398))
            ThreePointArc((2.93883855, 0.60268398), (2.917109764, 0.700336079), (2.892137129, 0.797209399))
            Line((2.892137129, 0.797209399), (2.377641297, 0.772542467))
            Line((2.377641297, 0.772542467), (2.808376033, 1.054999554))
            ThreePointArc((2.808376033, 1.054999554), (2.771638603, 1.148050284), (2.731819088, 1.239824372))
            Line((2.731819088, 1.239824372), (2.227516312, 1.134976246))
            Line((2.227516312, 1.134976246), (2.608761963, 1.481337579))
            ThreePointArc((2.608761963, 1.481337579), (2.557920493, 1.567495694), (2.504234594, 1.651910742))
            Line((2.504234594, 1.651910742), (2.022542483, 1.469463134))
            Line((2.022542483, 1.469463134), (2.344911516, 1.871200145))
            ThreePointArc((2.344911516, 1.871200145), (2.281217887, 1.948344157), (2.214987523, 2.023321594))
            Line((2.214987523, 2.023321594), (1.767766938, 1.767766968))
            Line((1.767766938, 1.767766968), (2.023321555, 2.214987558))
            ThreePointArc((2.023321555, 2.214987558), (1.94834413, 2.28121791), (1.87120013, 2.344911528))
            Line((1.87120013, 2.344911528), (1.469463122, 2.022542492))
            Line((1.469463122, 2.022542492), (1.651910726, 2.504234604))
            ThreePointArc((1.651910726, 2.504234604), (1.567495672, 2.557920507), (1.481337548, 2.60876198))
            Line((1.481337548, 2.60876198), (1.13497622, 2.227516326))
            Line((1.13497622, 2.227516326), (1.239824339, 2.731819102))
            ThreePointArc((1.239824339, 2.731819102), (1.148050226, 2.771638627), (1.05499947, 2.808376064))
            Line((1.05499947, 2.808376064), (0.772542395, 2.37764132))
            Line((0.772542395, 2.37764132), (0.797209313, 2.892137153))
            ThreePointArc((0.797209313, 2.892137153), (0.700336032, 2.917109775), (0.602683972, 2.938838551))
            Line((0.602683972, 2.938838551), (0.391086156, 2.469220853))
            Line((0.391086156, 2.469220853), (0.33496452, 2.981241146))
            ThreePointArc((0.33496452, 2.981241146), (0.235377283, 2.990752002), (0.135528304, 2.996937116))
            Line((0.135528304, 2.996937116), (0, 2.5))
            Line((0, 2.5), (-0.135528304, 2.996937116))
            ThreePointArc((-0.135528304, 2.996937116), (-0.235377287, 2.990752001), (-0.334964528, 2.981241145))
            Line((-0.334964528, 2.981241145), (-0.391086162, 2.469220852))
            Line((-0.391086162, 2.469220852), (-0.60268398, 2.93883855))
            ThreePointArc((-0.60268398, 2.93883855), (-0.700336079, 2.917109764), (-0.797209399, 2.892137129))
            Line((-0.797209399, 2.892137129), (-0.772542467, 2.377641297))
            Line((-0.772542467, 2.377641297), (-1.054999554, 2.808376033))
            ThreePointArc((-1.054999554, 2.808376033), (-1.148050284, 2.771638603), (-1.239824372, 2.731819088))
            Line((-1.239824372, 2.731819088), (-1.134976246, 2.227516312))
            Line((-1.134976246, 2.227516312), (-1.481337579, 2.608761963))
            ThreePointArc((-1.481337579, 2.608761963), (-1.567495694, 2.557920493), (-1.651910742, 2.504234594))
            Line((-1.651910742, 2.504234594), (-1.469463134, 2.022542483))
            Line((-1.469463134, 2.022542483), (-1.871200145, 2.344911516))
            ThreePointArc((-1.871200145, 2.344911516), (-1.948344157, 2.281217887), (-2.023321594, 2.214987523))
            Line((-2.023321594, 2.214987523), (-1.767766968, 1.767766938))
            Line((-1.767766968, 1.767766938), (-2.214987558, 2.023321555))
            ThreePointArc((-2.214987558, 2.023321555), (-2.28121791, 1.94834413), (-2.344911528, 1.87120013))
            Line((-2.344911528, 1.87120013), (-2.022542492, 1.469463122))
            Line((-2.022542492, 1.469463122), (-2.504234604, 1.651910726))
            ThreePointArc((-2.504234604, 1.651910726), (-2.557920507, 1.567495672), (-2.60876198, 1.481337548))
            Line((-2.60876198, 1.481337548), (-2.227516326, 1.13497622))
            Line((-2.227516326, 1.13497622), (-2.731819102, 1.239824339))
            ThreePointArc((-2.731819102, 1.239824339), (-2.771638627, 1.148050226), (-2.808376064, 1.05499947))
            Line((-2.808376064, 1.05499947), (-2.37764132, 0.772542395))
            Line((-2.37764132, 0.772542395), (-2.892137153, 0.797209313))
            ThreePointArc((-2.892137153, 0.797209313), (-2.917109775, 0.700336032), (-2.938838551, 0.602683972))
            Line((-2.938838551, 0.602683972), (-2.469220853, 0.391086156))
            Line((-2.469220853, 0.391086156), (-2.981241146, 0.33496452))
            ThreePointArc((-2.981241146, 0.33496452), (-2.990752002, 0.235377283), (-2.996937116, 0.135528304))
            Line((-2.996937116, 0.135528304), (-2.5, 0))
            Line((-2.5, 0), (-2.996937116, -0.135528304))
            ThreePointArc((-2.996937116, -0.135528304), (-2.990752001, -0.235377287), (-2.981241145, -0.334964528))
            Line((-2.981241145, -0.334964528), (-2.469220852, -0.391086162))
            Line((-2.469220852, -0.391086162), (-2.93883855, -0.60268398))
            ThreePointArc((-2.93883855, -0.60268398), (-2.917109764, -0.700336079), (-2.892137129, -0.797209399))
            Line((-2.892137129, -0.797209399), (-2.377641297, -0.772542467))
            Line((-2.377641297, -0.772542467), (-2.808376033, -1.054999554))
            ThreePointArc((-2.808376033, -1.054999554), (-2.771638603, -1.148050284), (-2.731819088, -1.239824372))
            Line((-2.731819088, -1.239824372), (-2.227516312, -1.134976246))
            Line((-2.227516312, -1.134976246), (-2.608761963, -1.481337579))
            ThreePointArc((-2.608761963, -1.481337579), (-2.557920493, -1.567495694), (-2.504234594, -1.651910742))
            Line((-2.504234594, -1.651910742), (-2.022542483, -1.469463134))
            Line((-2.022542483, -1.469463134), (-2.344911516, -1.871200145))
            ThreePointArc((-2.344911516, -1.871200145), (-2.281217887, -1.948344157), (-2.214987523, -2.023321594))
            Line((-2.214987523, -2.023321594), (-1.767766938, -1.767766968))
            Line((-1.767766938, -1.767766968), (-2.023321555, -2.214987558))
            ThreePointArc((-2.023321555, -2.214987558), (-1.94834413, -2.28121791), (-1.87120013, -2.344911528))
            Line((-1.87120013, -2.344911528), (-1.469463122, -2.022542492))
            Line((-1.469463122, -2.022542492), (-1.651910726, -2.504234604))
            ThreePointArc((-1.651910726, -2.504234604), (-1.567495672, -2.557920507), (-1.481337548, -2.60876198))
            Line((-1.481337548, -2.60876198), (-1.13497622, -2.227516326))
            Line((-1.13497622, -2.227516326), (-1.239824339, -2.731819102))
            ThreePointArc((-1.239824339, -2.731819102), (-1.148050226, -2.771638627), (-1.05499947, -2.808376064))
            Line((-1.05499947, -2.808376064), (-0.772542395, -2.37764132))
            Line((-0.772542395, -2.37764132), (-0.797209313, -2.892137153))
            ThreePointArc((-0.797209313, -2.892137153), (-0.700336032, -2.917109775), (-0.602683972, -2.938838551))
        make_face()
    extrude(amount=-CUT_EXTRUDE4_DEPTH, mode=Mode.SUBTRACT)


solid = part.part
